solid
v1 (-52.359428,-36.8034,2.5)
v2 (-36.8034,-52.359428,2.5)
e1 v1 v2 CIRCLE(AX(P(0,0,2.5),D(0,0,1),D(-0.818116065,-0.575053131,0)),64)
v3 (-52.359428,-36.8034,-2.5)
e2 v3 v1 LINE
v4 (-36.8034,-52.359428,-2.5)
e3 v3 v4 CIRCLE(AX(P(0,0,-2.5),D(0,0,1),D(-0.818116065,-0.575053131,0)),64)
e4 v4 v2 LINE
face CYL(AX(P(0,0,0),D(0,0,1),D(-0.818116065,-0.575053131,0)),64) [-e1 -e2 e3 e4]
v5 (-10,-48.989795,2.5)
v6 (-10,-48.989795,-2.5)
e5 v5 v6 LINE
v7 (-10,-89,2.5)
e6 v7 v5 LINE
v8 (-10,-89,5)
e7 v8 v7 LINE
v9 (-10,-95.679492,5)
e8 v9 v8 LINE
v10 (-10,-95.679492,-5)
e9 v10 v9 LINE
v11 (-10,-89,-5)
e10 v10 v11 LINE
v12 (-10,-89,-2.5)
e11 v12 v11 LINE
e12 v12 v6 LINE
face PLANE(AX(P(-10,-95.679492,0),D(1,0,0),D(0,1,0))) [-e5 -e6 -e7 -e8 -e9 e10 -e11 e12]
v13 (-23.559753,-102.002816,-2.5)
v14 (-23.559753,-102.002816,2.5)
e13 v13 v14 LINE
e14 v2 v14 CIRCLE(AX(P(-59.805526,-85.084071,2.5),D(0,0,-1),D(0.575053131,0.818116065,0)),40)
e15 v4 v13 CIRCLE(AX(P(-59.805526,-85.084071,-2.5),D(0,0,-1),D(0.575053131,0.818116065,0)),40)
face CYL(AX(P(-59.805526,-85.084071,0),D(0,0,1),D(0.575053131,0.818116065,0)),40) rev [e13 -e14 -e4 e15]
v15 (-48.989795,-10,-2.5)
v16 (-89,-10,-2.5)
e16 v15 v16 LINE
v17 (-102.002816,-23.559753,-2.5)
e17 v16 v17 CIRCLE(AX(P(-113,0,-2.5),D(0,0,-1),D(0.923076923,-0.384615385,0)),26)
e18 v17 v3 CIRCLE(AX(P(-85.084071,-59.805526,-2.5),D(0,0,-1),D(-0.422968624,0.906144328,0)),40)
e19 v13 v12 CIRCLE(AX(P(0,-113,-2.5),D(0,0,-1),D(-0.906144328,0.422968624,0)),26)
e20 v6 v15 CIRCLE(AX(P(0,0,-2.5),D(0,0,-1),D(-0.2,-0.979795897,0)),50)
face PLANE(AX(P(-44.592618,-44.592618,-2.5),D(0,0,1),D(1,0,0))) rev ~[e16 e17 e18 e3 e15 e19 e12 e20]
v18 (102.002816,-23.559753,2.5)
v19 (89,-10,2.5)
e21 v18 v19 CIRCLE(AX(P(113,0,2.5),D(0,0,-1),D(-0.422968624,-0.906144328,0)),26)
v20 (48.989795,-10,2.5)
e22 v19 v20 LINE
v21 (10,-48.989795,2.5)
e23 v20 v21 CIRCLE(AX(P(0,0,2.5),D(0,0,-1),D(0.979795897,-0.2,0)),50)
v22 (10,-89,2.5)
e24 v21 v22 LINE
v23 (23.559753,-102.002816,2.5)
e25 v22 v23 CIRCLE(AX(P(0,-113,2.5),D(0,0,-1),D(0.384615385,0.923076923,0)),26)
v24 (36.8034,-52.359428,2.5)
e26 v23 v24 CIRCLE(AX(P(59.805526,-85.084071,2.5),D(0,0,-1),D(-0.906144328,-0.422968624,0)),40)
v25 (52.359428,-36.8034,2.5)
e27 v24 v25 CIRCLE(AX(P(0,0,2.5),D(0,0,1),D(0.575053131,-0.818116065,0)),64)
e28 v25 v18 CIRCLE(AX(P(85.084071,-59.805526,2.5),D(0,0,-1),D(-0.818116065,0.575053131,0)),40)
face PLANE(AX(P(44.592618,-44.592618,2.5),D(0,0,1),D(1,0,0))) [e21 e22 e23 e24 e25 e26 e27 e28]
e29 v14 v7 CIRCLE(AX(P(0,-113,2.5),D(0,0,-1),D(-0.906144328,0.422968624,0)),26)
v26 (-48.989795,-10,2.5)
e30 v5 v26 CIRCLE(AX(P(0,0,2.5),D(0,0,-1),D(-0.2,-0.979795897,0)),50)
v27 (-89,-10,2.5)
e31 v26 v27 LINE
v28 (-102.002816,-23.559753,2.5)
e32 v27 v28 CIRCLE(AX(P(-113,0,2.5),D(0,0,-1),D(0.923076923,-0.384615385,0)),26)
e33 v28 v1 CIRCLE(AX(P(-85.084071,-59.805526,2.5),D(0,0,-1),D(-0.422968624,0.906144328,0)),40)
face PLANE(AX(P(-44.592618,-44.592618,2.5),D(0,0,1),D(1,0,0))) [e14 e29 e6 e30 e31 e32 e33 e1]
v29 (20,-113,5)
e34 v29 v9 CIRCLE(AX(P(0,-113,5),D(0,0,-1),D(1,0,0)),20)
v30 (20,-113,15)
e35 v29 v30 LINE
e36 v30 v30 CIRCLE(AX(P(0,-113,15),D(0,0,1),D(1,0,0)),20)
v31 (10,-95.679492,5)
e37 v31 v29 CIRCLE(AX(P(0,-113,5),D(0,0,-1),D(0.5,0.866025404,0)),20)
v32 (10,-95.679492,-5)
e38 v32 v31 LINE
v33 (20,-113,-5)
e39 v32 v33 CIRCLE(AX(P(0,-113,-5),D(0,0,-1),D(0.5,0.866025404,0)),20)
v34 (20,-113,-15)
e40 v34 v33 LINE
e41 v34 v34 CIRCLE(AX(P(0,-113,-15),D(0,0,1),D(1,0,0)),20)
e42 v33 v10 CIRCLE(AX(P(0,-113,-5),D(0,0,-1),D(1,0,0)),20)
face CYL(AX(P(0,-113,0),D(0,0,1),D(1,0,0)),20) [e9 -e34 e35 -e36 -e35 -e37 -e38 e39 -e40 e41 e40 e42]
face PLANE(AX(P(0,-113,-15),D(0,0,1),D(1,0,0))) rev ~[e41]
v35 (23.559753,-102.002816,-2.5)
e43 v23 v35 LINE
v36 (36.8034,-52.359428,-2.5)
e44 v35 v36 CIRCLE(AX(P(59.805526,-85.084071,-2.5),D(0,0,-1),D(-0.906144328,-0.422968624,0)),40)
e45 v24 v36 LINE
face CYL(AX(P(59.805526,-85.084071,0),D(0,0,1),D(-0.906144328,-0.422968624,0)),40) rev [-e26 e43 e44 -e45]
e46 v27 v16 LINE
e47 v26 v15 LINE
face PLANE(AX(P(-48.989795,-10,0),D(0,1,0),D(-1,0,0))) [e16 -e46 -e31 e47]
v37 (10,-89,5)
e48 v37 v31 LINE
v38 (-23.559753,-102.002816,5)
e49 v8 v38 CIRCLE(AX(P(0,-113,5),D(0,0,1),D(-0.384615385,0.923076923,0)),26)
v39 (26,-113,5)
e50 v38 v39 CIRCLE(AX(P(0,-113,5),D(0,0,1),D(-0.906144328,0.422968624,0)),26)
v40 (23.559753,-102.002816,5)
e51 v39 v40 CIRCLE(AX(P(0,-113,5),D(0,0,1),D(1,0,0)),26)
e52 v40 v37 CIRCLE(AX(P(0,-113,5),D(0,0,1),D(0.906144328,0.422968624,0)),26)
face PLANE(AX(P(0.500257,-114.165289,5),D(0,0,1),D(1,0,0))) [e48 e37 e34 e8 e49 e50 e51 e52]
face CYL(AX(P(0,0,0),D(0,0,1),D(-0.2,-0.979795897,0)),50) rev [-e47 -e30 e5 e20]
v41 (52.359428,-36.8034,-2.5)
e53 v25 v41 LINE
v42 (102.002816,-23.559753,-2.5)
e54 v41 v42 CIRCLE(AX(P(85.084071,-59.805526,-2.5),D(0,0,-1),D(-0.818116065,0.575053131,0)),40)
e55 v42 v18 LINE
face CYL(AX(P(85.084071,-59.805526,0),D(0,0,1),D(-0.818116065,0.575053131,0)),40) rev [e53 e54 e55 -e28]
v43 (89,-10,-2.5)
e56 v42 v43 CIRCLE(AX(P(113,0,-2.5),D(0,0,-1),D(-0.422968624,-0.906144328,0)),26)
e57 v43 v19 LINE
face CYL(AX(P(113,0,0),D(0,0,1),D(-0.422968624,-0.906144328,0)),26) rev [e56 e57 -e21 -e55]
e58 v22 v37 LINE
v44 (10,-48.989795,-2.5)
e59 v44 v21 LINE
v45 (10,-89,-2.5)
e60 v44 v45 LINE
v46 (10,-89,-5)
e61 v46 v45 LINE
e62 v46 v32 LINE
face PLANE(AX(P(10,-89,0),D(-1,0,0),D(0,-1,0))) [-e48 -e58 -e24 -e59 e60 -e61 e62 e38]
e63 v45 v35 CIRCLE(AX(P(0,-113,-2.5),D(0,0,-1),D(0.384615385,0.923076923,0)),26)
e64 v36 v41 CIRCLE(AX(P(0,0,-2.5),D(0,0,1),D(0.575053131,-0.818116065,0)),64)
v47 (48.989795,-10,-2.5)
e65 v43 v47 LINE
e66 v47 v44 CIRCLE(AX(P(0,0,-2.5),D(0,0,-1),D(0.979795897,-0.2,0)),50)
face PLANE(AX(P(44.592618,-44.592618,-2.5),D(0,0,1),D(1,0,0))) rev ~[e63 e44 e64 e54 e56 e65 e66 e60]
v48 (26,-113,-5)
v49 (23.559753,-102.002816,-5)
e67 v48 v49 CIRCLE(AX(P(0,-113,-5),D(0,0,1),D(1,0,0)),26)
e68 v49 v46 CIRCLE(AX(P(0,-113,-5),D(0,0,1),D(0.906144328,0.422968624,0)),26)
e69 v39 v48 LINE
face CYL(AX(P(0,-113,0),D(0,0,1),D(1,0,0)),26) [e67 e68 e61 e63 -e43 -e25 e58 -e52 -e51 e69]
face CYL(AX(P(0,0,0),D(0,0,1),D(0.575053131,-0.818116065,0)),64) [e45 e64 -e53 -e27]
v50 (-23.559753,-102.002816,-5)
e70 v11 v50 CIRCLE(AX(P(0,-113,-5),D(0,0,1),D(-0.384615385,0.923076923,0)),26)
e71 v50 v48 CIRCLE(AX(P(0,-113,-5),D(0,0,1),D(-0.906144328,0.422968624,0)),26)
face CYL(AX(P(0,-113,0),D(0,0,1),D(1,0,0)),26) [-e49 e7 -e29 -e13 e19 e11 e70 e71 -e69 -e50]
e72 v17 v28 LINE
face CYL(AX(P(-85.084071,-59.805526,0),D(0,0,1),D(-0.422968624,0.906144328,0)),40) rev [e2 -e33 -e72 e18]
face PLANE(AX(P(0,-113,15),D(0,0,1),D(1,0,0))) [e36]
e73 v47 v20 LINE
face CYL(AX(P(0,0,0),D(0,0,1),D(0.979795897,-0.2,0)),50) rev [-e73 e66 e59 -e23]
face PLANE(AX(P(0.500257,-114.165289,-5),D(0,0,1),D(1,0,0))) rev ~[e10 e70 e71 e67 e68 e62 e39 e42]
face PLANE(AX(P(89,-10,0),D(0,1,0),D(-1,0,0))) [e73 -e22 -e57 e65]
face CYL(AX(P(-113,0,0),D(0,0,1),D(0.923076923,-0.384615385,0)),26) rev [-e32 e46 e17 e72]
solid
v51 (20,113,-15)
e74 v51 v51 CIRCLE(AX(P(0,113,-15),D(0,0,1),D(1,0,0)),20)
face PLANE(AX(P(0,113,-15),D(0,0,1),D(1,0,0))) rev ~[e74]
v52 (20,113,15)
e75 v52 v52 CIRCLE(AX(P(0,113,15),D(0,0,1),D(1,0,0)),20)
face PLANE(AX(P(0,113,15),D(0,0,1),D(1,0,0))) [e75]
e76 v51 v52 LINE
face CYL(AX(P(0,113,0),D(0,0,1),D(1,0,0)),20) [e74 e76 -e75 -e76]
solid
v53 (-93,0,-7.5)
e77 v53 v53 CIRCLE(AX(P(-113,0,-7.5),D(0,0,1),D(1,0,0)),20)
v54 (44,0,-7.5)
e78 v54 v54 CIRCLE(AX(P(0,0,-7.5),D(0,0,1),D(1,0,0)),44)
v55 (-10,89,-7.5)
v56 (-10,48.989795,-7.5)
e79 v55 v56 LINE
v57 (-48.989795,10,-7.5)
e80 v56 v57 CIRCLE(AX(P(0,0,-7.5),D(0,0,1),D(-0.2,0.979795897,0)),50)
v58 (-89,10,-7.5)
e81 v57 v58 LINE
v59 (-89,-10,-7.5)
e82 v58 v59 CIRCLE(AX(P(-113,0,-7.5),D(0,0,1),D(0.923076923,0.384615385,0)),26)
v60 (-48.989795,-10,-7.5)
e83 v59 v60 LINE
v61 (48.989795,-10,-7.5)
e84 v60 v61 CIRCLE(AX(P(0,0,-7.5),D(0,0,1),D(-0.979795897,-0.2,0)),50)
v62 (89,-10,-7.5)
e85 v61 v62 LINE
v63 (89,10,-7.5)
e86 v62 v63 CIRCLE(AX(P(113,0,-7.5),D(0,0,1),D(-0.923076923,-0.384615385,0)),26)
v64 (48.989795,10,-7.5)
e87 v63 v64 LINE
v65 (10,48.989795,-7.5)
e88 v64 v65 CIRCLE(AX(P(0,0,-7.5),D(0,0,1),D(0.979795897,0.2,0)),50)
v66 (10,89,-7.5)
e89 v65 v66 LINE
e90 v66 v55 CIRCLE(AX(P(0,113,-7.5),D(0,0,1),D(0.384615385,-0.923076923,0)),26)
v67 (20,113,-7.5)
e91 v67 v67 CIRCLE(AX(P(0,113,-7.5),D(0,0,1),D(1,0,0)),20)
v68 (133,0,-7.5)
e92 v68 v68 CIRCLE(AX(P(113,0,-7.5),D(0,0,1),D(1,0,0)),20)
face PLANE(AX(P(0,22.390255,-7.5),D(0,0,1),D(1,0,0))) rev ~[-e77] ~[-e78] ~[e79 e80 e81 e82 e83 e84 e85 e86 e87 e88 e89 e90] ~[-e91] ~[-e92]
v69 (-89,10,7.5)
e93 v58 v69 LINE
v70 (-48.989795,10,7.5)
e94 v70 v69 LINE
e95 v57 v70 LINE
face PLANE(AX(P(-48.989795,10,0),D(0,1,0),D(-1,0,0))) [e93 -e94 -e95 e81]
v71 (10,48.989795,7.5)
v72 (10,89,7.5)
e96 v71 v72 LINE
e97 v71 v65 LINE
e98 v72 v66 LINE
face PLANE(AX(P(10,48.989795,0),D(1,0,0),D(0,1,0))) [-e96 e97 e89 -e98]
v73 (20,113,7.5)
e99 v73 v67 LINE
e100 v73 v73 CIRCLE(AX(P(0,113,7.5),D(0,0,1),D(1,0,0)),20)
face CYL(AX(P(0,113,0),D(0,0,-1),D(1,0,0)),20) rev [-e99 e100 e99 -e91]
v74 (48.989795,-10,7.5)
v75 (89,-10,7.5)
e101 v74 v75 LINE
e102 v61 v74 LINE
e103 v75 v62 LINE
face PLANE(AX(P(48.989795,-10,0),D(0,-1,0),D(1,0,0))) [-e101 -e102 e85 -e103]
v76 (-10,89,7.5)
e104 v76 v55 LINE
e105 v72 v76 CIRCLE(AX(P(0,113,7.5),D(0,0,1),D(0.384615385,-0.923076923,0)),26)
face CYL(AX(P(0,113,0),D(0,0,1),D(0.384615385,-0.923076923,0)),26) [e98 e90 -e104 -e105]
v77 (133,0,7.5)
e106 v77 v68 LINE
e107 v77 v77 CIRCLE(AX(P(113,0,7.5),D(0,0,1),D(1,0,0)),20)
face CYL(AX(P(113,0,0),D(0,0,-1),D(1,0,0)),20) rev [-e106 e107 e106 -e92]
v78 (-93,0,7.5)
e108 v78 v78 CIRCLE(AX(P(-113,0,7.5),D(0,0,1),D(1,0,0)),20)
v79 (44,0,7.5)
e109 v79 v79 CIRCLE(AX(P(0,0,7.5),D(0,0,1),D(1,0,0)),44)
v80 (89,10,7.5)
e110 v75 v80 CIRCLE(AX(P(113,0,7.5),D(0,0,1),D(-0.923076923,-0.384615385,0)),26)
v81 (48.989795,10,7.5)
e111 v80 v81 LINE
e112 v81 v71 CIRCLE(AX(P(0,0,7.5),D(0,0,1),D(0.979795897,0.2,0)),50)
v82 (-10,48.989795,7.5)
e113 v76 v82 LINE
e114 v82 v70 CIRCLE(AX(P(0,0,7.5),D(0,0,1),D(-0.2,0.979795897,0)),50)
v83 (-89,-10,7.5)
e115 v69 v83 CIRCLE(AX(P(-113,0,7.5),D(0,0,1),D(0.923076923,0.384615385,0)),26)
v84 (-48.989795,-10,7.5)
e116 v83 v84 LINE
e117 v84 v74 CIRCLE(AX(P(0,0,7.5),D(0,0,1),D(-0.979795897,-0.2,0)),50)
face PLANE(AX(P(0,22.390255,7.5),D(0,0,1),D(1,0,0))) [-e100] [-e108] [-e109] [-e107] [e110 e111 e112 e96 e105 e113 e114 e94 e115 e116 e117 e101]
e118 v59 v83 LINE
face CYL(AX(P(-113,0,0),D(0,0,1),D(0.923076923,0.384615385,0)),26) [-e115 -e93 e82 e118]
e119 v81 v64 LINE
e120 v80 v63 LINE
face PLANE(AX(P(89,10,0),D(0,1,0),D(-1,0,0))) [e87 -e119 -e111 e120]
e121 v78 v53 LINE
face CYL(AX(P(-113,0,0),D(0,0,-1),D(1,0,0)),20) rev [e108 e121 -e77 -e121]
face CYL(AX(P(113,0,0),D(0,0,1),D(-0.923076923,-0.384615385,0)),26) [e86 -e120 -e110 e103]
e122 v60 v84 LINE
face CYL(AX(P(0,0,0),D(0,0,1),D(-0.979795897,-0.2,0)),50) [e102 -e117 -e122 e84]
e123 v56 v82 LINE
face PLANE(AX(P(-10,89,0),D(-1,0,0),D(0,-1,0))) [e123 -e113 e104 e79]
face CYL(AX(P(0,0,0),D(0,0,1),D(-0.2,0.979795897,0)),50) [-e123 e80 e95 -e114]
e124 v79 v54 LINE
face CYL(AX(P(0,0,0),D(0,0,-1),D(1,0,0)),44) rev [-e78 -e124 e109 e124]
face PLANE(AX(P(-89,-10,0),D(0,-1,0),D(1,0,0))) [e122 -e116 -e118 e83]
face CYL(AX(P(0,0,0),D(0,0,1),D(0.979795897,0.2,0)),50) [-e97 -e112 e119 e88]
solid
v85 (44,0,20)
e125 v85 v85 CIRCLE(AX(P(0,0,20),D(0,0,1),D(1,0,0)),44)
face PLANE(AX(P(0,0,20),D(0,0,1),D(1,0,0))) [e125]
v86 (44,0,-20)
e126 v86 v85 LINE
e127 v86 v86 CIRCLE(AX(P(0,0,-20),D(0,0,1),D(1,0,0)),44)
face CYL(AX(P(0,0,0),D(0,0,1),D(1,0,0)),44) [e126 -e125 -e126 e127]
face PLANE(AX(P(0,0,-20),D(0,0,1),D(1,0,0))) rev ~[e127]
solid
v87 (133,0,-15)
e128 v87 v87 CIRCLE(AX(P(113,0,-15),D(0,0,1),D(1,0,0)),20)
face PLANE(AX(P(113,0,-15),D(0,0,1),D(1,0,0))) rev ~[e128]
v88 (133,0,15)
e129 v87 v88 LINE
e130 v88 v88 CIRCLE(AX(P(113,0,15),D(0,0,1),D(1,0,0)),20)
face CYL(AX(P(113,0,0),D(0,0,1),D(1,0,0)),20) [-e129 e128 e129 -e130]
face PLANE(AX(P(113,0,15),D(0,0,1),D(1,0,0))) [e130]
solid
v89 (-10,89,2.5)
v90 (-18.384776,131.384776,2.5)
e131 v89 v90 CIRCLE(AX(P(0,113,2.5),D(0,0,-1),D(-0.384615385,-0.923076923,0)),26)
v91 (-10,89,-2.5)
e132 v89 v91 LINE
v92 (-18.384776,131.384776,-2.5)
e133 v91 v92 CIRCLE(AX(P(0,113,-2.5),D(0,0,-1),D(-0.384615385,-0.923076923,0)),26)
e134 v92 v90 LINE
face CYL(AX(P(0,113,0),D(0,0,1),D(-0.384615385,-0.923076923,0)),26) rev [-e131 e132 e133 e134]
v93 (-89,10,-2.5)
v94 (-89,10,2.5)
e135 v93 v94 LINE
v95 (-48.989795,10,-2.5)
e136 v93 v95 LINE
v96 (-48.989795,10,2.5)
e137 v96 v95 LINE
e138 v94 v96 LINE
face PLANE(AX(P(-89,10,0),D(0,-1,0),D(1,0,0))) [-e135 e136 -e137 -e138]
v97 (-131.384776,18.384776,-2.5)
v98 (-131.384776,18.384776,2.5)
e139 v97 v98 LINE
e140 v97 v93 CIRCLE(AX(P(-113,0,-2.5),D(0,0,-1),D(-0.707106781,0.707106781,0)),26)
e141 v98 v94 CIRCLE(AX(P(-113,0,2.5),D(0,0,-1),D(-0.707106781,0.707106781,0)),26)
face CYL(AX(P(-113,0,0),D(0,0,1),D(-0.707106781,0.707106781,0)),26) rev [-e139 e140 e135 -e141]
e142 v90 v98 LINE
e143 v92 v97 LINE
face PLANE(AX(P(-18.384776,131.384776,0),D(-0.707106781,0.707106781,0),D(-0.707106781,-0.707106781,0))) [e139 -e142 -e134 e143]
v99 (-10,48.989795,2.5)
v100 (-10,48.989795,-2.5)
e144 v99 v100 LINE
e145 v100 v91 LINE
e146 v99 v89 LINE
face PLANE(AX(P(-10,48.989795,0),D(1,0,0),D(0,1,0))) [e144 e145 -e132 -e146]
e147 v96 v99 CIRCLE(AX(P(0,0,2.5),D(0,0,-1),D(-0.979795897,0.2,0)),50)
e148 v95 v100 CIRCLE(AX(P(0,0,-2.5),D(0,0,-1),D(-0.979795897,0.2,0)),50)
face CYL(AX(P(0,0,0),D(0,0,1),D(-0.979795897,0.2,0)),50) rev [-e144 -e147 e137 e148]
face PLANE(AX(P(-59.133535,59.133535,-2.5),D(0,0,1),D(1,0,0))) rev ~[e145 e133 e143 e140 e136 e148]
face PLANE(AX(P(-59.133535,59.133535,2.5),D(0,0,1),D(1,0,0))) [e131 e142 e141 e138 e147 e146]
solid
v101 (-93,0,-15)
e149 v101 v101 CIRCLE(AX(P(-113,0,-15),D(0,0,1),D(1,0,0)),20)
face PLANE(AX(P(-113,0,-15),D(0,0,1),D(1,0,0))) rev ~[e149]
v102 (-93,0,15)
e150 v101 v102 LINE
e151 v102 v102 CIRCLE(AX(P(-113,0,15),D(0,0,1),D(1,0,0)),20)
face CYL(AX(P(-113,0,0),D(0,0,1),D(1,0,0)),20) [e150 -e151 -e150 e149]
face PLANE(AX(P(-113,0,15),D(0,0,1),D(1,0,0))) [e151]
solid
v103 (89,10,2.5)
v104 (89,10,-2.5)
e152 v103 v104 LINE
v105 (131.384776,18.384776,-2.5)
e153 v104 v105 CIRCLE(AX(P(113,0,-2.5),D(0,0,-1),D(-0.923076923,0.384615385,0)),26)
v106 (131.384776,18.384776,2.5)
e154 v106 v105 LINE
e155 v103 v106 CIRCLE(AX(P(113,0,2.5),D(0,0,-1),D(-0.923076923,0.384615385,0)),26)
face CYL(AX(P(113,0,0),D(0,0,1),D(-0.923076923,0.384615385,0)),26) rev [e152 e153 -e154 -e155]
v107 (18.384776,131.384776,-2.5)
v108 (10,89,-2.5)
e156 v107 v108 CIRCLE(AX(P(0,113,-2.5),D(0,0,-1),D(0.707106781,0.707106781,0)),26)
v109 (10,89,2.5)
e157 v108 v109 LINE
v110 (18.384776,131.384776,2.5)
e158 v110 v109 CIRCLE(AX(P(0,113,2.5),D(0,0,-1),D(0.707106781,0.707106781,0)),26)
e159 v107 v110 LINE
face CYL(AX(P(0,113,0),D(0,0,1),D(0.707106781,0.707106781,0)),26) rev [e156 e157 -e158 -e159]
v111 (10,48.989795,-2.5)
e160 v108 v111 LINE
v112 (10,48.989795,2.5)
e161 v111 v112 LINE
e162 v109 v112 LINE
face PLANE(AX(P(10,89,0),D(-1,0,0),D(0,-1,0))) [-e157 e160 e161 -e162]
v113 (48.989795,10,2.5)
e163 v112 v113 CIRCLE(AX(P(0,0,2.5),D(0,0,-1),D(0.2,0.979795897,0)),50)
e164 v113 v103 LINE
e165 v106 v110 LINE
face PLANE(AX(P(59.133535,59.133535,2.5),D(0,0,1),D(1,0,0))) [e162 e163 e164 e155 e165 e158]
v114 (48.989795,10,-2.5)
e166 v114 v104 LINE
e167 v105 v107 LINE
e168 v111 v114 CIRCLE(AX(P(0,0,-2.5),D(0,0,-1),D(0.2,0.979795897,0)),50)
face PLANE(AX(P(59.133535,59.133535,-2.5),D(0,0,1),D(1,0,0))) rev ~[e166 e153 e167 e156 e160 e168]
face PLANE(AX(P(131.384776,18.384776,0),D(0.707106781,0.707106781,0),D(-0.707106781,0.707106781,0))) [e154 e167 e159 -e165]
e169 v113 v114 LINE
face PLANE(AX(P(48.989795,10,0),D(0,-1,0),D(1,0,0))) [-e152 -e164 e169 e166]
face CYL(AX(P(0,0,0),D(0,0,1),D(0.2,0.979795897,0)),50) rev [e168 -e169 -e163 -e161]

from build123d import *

# Parameters (mm, degrees)
SKETCH1_R             = 20
BOSS_EXTRUDE1_DEPTH   = 15
BOSS_EXTRUDE1_2_DEPTH = 15
BOSS_EXTRUDE1_3_DEPTH = 15
BOSS_EXTRUDE1_4_DEPTH = 15
SKETCH1_3_R           = 44
BOSS_EXTRUDE2_DEPTH   = 20
BOSS_EXTRUDE3_DEPTH   = 2.5
BOSS_EXTRUDE3_2_DEPTH = 2.5
BOSS_EXTRUDE3_3_DEPTH = 2.5
BOSS_EXTRUDE3_4_DEPTH = 2.5
BOSS_EXTRUDE5_DEPTH   = 5
SKETCH1_7_R           = 20
SKETCH1_7_R_2         = 44
BOSS_EXTRUDE6_DEPTH   = 7.5


with BuildPart() as part:
    # Sketch1 → Boss-Extrude1 (new, symmetric)
    with BuildSketch(Plane.XY):
        with Locations((0, -113)):
            Circle(SKETCH1_R)
    extrude(amount=BOSS_EXTRUDE1_DEPTH, both=True)



with BuildPart() as body_2:
    # Sketch1 → Boss-Extrude1 2 (new, symmetric)
    with BuildSketch(Plane.XY):
        with Locations((113, 0)):
            Circle(SKETCH1_R)
    extrude(amount=BOSS_EXTRUDE1_2_DEPTH, both=True)


with BuildPart() as body_3:
    # Sketch1 → Boss-Extrude1 3 (new, symmetric)
    with BuildSketch(Plane.XY):
        with Locations((0, 113)):
            Circle(SKETCH1_R)
    extrude(amount=BOSS_EXTRUDE1_3_DEPTH, both=True)


with BuildPart() as body_4:
    # Sketch1 → Boss-Extrude1 4 (new, symmetric)
    with BuildSketch(Plane.XY):
        with Locations((-113, 0)):
            Circle(SKETCH1_R)
    extrude(amount=BOSS_EXTRUDE1_4_DEPTH, both=True)


with BuildPart() as body_5:
    # Sketch1<3> → Boss-Extrude2 (new, symmetric)
    with BuildSketch(Plane.XY):
        Circle(SKETCH1_3_R)
    extrude(amount=BOSS_EXTRUDE2_DEPTH, both=True)


with BuildPart() as body_6:
    # Sketch1<4> → Boss-Extrude3 (new, symmetric)
    with BuildSketch(Plane.XY):
        with BuildLine():
            Line((131.384776311, 18.384776311), (18.384776311, 131.384776311))
            ThreePointArc((18.384776311, 131.384776311), (25.505709112, 107.954328319), (10, 89))
            Line((10, 89), (10, 48.989794856))
            ThreePointArc((10, 48.989794856), (35.355339059, 35.355339059), (48.989794856, 10))
            Line((48.989794856, 10), (89, 10))
            ThreePointArc((89, 10), (107.954328319, 25.505709112), (131.384776311, 18.384776311))
        make_face()
    extrude(amount=BOSS_EXTRUDE3_DEPTH, both=True)


with BuildPart() as body_7:
    # Sketch1<4> → Boss-Extrude3 2 (new, symmetric)
    with BuildSketch(Plane.XY):
        with BuildLine():
            ThreePointArc((-10, 89), (-25.505709112, 107.954328319), (-18.384776311, 131.384776311))
            Line((-18.384776311, 131.384776311), (-131.384776311, 18.384776311))
            ThreePointArc((-131.384776311, 18.384776311), (-107.954328319, 25.505709112), (-89, 10))
            Line((-89, 10), (-48.989794856, 10))
            ThreePointArc((-48.989794856, 10), (-35.355339059, 35.355339059), (-10, 48.989794856))
            Line((-10, 48.989794856), (-10, 89))
        make_face()
    extrude(amount=BOSS_EXTRUDE3_2_DEPTH, both=True)


with BuildPart() as body_8:
    # Sketch1<4> → Boss-Extrude3 3 (new, symmetric)
    with BuildSketch(Plane.XY):
        with BuildLine():
            ThreePointArc((52.359428182, -36.803400392), (74.773631801, -21.15717706), (102.002815768, -23.559752524))
            ThreePointArc((102.002815768, -23.559752524), (94.233874983, -17.995348061), (89, -10))
            Line((89, -10), (48.989794856, -10))
            ThreePointArc((48.989794856, -10), (35.355339059, -35.355339059), (10, -48.989794856))
            Line((10, -48.989794856), (10, -89))
            ThreePointArc((10, -89), (17.995348061, -94.233874983), (23.559752524, -102.002815768))
            ThreePointArc((23.559752524, -102.002815768), (21.15717706, -74.773631801), (36.803400392, -52.359428182))
            ThreePointArc((36.803400392, -52.359428182), (45.254833996, -45.254833996), (52.359428182, -36.803400392))
        make_face()
    extrude(amount=BOSS_EXTRUDE3_3_DEPTH, both=True)


with BuildPart() as body_9:
    # Sketch1<4> → Boss-Extrude3 4 (new, symmetric)
    with BuildSketch(Plane.XY):
        with BuildLine():
            ThreePointArc((-89, -10), (-94.233874983, -17.995348061), (-102.002815768, -23.559752524))
            ThreePointArc((-102.002815768, -23.559752524), (-74.773631801, -21.15717706), (-52.359428182, -36.803400392))
            ThreePointArc((-52.359428182, -36.803400392), (-45.254833996, -45.254833996), (-36.803400392, -52.359428182))
            ThreePointArc((-36.803400392, -52.359428182), (-21.15717706, -74.773631801), (-23.559752524, -102.002815768))
            ThreePointArc((-23.559752524, -102.002815768), (-17.995348061, -94.233874983), (-10, -89))
            Line((-10, -89), (-10, -48.989794856))
            ThreePointArc((-10, -48.989794856), (-35.355339059, -35.355339059), (-48.989794856, -10))
            Line((-48.989794856, -10), (-89, -10))
        make_face()
    extrude(amount=BOSS_EXTRUDE3_4_DEPTH, both=True)


with BuildPart() as part_1:
    add(part.part)

    add(body_8.part)  # Boss-Extrude5 merges body 8

    add(body_9.part)  # Boss-Extrude5 merges body 9
    # Sketch1<6> → Boss-Extrude5 (add, symmetric)
    with BuildSketch(Plane.XY):
        with BuildLine():
            ThreePointArc((26, -113), (25.38260788, -107.367663256), (23.559752524, -102.002815768))
            ThreePointArc((23.559752524, -102.002815768), (17.995348061, -94.233874983), (10, -89))
            Line((10, -89), (10, -95.679491924))
            ThreePointArc((10, -95.679491924), (17.320508076, -103), (20, -113))
            ThreePointArc((20, -113), (-10, -130.320508076), (-10, -95.679491924))
            Line((-10, -95.679491924), (-10, -89))
            ThreePointArc((-10, -89), (-17.995348061, -94.233874983), (-23.559752524, -102.002815768))
            ThreePointArc((-23.559752524, -102.002815768), (-5.632336744, -138.38260788), (26, -113))
        make_face()
    extrude(amount=BOSS_EXTRUDE5_DEPTH, both=True)


with BuildPart() as body_8_2:
    # Sketch1<7> → Boss-Extrude6 (new, symmetric)
    with BuildSketch(Plane.XY):
        with BuildLine():
            Line((-10, 89), (-10, 48.989794856))
            ThreePointArc((-10, 48.989794856), (-35.355339059, 35.355339059), (-48.989794856, 10))
            Line((-48.989794856, 10), (-89, 10))
            ThreePointArc((-89, 10), (-139, 0), (-89, -10))
            Line((-89, -10), (-48.989794856, -10))
            ThreePointArc((-48.989794856, -10), (0, -50), (48.989794856, -10))
            Line((48.989794856, -10), (89, -10))
            ThreePointArc((89, -10), (139, 0), (89, 10))
            Line((89, 10), (48.989794856, 10))
            ThreePointArc((48.989794856, 10), (35.355339059, 35.355339059), (10, 48.989794856))
            Line((10, 48.989794856), (10, 89))
            ThreePointArc((10, 89), (0, 139), (-10, 89))
        make_face()
        with Locations((0, 113)):
            Circle(SKETCH1_7_R, mode=Mode.SUBTRACT)
        Circle(SKETCH1_7_R_2, mode=Mode.SUBTRACT)
        with Locations((113, 0)):
            Circle(SKETCH1_7_R, mode=Mode.SUBTRACT)
        with Locations((-113, 0)):
            Circle(SKETCH1_7_R, mode=Mode.SUBTRACT)
    extrude(amount=BOSS_EXTRUDE6_DEPTH, both=True)


solid = Compound([body_2.part, body_3.part, body_4.part, body_5.part, body_6.part, body_7.part, part_1.part, body_8_2.part])
